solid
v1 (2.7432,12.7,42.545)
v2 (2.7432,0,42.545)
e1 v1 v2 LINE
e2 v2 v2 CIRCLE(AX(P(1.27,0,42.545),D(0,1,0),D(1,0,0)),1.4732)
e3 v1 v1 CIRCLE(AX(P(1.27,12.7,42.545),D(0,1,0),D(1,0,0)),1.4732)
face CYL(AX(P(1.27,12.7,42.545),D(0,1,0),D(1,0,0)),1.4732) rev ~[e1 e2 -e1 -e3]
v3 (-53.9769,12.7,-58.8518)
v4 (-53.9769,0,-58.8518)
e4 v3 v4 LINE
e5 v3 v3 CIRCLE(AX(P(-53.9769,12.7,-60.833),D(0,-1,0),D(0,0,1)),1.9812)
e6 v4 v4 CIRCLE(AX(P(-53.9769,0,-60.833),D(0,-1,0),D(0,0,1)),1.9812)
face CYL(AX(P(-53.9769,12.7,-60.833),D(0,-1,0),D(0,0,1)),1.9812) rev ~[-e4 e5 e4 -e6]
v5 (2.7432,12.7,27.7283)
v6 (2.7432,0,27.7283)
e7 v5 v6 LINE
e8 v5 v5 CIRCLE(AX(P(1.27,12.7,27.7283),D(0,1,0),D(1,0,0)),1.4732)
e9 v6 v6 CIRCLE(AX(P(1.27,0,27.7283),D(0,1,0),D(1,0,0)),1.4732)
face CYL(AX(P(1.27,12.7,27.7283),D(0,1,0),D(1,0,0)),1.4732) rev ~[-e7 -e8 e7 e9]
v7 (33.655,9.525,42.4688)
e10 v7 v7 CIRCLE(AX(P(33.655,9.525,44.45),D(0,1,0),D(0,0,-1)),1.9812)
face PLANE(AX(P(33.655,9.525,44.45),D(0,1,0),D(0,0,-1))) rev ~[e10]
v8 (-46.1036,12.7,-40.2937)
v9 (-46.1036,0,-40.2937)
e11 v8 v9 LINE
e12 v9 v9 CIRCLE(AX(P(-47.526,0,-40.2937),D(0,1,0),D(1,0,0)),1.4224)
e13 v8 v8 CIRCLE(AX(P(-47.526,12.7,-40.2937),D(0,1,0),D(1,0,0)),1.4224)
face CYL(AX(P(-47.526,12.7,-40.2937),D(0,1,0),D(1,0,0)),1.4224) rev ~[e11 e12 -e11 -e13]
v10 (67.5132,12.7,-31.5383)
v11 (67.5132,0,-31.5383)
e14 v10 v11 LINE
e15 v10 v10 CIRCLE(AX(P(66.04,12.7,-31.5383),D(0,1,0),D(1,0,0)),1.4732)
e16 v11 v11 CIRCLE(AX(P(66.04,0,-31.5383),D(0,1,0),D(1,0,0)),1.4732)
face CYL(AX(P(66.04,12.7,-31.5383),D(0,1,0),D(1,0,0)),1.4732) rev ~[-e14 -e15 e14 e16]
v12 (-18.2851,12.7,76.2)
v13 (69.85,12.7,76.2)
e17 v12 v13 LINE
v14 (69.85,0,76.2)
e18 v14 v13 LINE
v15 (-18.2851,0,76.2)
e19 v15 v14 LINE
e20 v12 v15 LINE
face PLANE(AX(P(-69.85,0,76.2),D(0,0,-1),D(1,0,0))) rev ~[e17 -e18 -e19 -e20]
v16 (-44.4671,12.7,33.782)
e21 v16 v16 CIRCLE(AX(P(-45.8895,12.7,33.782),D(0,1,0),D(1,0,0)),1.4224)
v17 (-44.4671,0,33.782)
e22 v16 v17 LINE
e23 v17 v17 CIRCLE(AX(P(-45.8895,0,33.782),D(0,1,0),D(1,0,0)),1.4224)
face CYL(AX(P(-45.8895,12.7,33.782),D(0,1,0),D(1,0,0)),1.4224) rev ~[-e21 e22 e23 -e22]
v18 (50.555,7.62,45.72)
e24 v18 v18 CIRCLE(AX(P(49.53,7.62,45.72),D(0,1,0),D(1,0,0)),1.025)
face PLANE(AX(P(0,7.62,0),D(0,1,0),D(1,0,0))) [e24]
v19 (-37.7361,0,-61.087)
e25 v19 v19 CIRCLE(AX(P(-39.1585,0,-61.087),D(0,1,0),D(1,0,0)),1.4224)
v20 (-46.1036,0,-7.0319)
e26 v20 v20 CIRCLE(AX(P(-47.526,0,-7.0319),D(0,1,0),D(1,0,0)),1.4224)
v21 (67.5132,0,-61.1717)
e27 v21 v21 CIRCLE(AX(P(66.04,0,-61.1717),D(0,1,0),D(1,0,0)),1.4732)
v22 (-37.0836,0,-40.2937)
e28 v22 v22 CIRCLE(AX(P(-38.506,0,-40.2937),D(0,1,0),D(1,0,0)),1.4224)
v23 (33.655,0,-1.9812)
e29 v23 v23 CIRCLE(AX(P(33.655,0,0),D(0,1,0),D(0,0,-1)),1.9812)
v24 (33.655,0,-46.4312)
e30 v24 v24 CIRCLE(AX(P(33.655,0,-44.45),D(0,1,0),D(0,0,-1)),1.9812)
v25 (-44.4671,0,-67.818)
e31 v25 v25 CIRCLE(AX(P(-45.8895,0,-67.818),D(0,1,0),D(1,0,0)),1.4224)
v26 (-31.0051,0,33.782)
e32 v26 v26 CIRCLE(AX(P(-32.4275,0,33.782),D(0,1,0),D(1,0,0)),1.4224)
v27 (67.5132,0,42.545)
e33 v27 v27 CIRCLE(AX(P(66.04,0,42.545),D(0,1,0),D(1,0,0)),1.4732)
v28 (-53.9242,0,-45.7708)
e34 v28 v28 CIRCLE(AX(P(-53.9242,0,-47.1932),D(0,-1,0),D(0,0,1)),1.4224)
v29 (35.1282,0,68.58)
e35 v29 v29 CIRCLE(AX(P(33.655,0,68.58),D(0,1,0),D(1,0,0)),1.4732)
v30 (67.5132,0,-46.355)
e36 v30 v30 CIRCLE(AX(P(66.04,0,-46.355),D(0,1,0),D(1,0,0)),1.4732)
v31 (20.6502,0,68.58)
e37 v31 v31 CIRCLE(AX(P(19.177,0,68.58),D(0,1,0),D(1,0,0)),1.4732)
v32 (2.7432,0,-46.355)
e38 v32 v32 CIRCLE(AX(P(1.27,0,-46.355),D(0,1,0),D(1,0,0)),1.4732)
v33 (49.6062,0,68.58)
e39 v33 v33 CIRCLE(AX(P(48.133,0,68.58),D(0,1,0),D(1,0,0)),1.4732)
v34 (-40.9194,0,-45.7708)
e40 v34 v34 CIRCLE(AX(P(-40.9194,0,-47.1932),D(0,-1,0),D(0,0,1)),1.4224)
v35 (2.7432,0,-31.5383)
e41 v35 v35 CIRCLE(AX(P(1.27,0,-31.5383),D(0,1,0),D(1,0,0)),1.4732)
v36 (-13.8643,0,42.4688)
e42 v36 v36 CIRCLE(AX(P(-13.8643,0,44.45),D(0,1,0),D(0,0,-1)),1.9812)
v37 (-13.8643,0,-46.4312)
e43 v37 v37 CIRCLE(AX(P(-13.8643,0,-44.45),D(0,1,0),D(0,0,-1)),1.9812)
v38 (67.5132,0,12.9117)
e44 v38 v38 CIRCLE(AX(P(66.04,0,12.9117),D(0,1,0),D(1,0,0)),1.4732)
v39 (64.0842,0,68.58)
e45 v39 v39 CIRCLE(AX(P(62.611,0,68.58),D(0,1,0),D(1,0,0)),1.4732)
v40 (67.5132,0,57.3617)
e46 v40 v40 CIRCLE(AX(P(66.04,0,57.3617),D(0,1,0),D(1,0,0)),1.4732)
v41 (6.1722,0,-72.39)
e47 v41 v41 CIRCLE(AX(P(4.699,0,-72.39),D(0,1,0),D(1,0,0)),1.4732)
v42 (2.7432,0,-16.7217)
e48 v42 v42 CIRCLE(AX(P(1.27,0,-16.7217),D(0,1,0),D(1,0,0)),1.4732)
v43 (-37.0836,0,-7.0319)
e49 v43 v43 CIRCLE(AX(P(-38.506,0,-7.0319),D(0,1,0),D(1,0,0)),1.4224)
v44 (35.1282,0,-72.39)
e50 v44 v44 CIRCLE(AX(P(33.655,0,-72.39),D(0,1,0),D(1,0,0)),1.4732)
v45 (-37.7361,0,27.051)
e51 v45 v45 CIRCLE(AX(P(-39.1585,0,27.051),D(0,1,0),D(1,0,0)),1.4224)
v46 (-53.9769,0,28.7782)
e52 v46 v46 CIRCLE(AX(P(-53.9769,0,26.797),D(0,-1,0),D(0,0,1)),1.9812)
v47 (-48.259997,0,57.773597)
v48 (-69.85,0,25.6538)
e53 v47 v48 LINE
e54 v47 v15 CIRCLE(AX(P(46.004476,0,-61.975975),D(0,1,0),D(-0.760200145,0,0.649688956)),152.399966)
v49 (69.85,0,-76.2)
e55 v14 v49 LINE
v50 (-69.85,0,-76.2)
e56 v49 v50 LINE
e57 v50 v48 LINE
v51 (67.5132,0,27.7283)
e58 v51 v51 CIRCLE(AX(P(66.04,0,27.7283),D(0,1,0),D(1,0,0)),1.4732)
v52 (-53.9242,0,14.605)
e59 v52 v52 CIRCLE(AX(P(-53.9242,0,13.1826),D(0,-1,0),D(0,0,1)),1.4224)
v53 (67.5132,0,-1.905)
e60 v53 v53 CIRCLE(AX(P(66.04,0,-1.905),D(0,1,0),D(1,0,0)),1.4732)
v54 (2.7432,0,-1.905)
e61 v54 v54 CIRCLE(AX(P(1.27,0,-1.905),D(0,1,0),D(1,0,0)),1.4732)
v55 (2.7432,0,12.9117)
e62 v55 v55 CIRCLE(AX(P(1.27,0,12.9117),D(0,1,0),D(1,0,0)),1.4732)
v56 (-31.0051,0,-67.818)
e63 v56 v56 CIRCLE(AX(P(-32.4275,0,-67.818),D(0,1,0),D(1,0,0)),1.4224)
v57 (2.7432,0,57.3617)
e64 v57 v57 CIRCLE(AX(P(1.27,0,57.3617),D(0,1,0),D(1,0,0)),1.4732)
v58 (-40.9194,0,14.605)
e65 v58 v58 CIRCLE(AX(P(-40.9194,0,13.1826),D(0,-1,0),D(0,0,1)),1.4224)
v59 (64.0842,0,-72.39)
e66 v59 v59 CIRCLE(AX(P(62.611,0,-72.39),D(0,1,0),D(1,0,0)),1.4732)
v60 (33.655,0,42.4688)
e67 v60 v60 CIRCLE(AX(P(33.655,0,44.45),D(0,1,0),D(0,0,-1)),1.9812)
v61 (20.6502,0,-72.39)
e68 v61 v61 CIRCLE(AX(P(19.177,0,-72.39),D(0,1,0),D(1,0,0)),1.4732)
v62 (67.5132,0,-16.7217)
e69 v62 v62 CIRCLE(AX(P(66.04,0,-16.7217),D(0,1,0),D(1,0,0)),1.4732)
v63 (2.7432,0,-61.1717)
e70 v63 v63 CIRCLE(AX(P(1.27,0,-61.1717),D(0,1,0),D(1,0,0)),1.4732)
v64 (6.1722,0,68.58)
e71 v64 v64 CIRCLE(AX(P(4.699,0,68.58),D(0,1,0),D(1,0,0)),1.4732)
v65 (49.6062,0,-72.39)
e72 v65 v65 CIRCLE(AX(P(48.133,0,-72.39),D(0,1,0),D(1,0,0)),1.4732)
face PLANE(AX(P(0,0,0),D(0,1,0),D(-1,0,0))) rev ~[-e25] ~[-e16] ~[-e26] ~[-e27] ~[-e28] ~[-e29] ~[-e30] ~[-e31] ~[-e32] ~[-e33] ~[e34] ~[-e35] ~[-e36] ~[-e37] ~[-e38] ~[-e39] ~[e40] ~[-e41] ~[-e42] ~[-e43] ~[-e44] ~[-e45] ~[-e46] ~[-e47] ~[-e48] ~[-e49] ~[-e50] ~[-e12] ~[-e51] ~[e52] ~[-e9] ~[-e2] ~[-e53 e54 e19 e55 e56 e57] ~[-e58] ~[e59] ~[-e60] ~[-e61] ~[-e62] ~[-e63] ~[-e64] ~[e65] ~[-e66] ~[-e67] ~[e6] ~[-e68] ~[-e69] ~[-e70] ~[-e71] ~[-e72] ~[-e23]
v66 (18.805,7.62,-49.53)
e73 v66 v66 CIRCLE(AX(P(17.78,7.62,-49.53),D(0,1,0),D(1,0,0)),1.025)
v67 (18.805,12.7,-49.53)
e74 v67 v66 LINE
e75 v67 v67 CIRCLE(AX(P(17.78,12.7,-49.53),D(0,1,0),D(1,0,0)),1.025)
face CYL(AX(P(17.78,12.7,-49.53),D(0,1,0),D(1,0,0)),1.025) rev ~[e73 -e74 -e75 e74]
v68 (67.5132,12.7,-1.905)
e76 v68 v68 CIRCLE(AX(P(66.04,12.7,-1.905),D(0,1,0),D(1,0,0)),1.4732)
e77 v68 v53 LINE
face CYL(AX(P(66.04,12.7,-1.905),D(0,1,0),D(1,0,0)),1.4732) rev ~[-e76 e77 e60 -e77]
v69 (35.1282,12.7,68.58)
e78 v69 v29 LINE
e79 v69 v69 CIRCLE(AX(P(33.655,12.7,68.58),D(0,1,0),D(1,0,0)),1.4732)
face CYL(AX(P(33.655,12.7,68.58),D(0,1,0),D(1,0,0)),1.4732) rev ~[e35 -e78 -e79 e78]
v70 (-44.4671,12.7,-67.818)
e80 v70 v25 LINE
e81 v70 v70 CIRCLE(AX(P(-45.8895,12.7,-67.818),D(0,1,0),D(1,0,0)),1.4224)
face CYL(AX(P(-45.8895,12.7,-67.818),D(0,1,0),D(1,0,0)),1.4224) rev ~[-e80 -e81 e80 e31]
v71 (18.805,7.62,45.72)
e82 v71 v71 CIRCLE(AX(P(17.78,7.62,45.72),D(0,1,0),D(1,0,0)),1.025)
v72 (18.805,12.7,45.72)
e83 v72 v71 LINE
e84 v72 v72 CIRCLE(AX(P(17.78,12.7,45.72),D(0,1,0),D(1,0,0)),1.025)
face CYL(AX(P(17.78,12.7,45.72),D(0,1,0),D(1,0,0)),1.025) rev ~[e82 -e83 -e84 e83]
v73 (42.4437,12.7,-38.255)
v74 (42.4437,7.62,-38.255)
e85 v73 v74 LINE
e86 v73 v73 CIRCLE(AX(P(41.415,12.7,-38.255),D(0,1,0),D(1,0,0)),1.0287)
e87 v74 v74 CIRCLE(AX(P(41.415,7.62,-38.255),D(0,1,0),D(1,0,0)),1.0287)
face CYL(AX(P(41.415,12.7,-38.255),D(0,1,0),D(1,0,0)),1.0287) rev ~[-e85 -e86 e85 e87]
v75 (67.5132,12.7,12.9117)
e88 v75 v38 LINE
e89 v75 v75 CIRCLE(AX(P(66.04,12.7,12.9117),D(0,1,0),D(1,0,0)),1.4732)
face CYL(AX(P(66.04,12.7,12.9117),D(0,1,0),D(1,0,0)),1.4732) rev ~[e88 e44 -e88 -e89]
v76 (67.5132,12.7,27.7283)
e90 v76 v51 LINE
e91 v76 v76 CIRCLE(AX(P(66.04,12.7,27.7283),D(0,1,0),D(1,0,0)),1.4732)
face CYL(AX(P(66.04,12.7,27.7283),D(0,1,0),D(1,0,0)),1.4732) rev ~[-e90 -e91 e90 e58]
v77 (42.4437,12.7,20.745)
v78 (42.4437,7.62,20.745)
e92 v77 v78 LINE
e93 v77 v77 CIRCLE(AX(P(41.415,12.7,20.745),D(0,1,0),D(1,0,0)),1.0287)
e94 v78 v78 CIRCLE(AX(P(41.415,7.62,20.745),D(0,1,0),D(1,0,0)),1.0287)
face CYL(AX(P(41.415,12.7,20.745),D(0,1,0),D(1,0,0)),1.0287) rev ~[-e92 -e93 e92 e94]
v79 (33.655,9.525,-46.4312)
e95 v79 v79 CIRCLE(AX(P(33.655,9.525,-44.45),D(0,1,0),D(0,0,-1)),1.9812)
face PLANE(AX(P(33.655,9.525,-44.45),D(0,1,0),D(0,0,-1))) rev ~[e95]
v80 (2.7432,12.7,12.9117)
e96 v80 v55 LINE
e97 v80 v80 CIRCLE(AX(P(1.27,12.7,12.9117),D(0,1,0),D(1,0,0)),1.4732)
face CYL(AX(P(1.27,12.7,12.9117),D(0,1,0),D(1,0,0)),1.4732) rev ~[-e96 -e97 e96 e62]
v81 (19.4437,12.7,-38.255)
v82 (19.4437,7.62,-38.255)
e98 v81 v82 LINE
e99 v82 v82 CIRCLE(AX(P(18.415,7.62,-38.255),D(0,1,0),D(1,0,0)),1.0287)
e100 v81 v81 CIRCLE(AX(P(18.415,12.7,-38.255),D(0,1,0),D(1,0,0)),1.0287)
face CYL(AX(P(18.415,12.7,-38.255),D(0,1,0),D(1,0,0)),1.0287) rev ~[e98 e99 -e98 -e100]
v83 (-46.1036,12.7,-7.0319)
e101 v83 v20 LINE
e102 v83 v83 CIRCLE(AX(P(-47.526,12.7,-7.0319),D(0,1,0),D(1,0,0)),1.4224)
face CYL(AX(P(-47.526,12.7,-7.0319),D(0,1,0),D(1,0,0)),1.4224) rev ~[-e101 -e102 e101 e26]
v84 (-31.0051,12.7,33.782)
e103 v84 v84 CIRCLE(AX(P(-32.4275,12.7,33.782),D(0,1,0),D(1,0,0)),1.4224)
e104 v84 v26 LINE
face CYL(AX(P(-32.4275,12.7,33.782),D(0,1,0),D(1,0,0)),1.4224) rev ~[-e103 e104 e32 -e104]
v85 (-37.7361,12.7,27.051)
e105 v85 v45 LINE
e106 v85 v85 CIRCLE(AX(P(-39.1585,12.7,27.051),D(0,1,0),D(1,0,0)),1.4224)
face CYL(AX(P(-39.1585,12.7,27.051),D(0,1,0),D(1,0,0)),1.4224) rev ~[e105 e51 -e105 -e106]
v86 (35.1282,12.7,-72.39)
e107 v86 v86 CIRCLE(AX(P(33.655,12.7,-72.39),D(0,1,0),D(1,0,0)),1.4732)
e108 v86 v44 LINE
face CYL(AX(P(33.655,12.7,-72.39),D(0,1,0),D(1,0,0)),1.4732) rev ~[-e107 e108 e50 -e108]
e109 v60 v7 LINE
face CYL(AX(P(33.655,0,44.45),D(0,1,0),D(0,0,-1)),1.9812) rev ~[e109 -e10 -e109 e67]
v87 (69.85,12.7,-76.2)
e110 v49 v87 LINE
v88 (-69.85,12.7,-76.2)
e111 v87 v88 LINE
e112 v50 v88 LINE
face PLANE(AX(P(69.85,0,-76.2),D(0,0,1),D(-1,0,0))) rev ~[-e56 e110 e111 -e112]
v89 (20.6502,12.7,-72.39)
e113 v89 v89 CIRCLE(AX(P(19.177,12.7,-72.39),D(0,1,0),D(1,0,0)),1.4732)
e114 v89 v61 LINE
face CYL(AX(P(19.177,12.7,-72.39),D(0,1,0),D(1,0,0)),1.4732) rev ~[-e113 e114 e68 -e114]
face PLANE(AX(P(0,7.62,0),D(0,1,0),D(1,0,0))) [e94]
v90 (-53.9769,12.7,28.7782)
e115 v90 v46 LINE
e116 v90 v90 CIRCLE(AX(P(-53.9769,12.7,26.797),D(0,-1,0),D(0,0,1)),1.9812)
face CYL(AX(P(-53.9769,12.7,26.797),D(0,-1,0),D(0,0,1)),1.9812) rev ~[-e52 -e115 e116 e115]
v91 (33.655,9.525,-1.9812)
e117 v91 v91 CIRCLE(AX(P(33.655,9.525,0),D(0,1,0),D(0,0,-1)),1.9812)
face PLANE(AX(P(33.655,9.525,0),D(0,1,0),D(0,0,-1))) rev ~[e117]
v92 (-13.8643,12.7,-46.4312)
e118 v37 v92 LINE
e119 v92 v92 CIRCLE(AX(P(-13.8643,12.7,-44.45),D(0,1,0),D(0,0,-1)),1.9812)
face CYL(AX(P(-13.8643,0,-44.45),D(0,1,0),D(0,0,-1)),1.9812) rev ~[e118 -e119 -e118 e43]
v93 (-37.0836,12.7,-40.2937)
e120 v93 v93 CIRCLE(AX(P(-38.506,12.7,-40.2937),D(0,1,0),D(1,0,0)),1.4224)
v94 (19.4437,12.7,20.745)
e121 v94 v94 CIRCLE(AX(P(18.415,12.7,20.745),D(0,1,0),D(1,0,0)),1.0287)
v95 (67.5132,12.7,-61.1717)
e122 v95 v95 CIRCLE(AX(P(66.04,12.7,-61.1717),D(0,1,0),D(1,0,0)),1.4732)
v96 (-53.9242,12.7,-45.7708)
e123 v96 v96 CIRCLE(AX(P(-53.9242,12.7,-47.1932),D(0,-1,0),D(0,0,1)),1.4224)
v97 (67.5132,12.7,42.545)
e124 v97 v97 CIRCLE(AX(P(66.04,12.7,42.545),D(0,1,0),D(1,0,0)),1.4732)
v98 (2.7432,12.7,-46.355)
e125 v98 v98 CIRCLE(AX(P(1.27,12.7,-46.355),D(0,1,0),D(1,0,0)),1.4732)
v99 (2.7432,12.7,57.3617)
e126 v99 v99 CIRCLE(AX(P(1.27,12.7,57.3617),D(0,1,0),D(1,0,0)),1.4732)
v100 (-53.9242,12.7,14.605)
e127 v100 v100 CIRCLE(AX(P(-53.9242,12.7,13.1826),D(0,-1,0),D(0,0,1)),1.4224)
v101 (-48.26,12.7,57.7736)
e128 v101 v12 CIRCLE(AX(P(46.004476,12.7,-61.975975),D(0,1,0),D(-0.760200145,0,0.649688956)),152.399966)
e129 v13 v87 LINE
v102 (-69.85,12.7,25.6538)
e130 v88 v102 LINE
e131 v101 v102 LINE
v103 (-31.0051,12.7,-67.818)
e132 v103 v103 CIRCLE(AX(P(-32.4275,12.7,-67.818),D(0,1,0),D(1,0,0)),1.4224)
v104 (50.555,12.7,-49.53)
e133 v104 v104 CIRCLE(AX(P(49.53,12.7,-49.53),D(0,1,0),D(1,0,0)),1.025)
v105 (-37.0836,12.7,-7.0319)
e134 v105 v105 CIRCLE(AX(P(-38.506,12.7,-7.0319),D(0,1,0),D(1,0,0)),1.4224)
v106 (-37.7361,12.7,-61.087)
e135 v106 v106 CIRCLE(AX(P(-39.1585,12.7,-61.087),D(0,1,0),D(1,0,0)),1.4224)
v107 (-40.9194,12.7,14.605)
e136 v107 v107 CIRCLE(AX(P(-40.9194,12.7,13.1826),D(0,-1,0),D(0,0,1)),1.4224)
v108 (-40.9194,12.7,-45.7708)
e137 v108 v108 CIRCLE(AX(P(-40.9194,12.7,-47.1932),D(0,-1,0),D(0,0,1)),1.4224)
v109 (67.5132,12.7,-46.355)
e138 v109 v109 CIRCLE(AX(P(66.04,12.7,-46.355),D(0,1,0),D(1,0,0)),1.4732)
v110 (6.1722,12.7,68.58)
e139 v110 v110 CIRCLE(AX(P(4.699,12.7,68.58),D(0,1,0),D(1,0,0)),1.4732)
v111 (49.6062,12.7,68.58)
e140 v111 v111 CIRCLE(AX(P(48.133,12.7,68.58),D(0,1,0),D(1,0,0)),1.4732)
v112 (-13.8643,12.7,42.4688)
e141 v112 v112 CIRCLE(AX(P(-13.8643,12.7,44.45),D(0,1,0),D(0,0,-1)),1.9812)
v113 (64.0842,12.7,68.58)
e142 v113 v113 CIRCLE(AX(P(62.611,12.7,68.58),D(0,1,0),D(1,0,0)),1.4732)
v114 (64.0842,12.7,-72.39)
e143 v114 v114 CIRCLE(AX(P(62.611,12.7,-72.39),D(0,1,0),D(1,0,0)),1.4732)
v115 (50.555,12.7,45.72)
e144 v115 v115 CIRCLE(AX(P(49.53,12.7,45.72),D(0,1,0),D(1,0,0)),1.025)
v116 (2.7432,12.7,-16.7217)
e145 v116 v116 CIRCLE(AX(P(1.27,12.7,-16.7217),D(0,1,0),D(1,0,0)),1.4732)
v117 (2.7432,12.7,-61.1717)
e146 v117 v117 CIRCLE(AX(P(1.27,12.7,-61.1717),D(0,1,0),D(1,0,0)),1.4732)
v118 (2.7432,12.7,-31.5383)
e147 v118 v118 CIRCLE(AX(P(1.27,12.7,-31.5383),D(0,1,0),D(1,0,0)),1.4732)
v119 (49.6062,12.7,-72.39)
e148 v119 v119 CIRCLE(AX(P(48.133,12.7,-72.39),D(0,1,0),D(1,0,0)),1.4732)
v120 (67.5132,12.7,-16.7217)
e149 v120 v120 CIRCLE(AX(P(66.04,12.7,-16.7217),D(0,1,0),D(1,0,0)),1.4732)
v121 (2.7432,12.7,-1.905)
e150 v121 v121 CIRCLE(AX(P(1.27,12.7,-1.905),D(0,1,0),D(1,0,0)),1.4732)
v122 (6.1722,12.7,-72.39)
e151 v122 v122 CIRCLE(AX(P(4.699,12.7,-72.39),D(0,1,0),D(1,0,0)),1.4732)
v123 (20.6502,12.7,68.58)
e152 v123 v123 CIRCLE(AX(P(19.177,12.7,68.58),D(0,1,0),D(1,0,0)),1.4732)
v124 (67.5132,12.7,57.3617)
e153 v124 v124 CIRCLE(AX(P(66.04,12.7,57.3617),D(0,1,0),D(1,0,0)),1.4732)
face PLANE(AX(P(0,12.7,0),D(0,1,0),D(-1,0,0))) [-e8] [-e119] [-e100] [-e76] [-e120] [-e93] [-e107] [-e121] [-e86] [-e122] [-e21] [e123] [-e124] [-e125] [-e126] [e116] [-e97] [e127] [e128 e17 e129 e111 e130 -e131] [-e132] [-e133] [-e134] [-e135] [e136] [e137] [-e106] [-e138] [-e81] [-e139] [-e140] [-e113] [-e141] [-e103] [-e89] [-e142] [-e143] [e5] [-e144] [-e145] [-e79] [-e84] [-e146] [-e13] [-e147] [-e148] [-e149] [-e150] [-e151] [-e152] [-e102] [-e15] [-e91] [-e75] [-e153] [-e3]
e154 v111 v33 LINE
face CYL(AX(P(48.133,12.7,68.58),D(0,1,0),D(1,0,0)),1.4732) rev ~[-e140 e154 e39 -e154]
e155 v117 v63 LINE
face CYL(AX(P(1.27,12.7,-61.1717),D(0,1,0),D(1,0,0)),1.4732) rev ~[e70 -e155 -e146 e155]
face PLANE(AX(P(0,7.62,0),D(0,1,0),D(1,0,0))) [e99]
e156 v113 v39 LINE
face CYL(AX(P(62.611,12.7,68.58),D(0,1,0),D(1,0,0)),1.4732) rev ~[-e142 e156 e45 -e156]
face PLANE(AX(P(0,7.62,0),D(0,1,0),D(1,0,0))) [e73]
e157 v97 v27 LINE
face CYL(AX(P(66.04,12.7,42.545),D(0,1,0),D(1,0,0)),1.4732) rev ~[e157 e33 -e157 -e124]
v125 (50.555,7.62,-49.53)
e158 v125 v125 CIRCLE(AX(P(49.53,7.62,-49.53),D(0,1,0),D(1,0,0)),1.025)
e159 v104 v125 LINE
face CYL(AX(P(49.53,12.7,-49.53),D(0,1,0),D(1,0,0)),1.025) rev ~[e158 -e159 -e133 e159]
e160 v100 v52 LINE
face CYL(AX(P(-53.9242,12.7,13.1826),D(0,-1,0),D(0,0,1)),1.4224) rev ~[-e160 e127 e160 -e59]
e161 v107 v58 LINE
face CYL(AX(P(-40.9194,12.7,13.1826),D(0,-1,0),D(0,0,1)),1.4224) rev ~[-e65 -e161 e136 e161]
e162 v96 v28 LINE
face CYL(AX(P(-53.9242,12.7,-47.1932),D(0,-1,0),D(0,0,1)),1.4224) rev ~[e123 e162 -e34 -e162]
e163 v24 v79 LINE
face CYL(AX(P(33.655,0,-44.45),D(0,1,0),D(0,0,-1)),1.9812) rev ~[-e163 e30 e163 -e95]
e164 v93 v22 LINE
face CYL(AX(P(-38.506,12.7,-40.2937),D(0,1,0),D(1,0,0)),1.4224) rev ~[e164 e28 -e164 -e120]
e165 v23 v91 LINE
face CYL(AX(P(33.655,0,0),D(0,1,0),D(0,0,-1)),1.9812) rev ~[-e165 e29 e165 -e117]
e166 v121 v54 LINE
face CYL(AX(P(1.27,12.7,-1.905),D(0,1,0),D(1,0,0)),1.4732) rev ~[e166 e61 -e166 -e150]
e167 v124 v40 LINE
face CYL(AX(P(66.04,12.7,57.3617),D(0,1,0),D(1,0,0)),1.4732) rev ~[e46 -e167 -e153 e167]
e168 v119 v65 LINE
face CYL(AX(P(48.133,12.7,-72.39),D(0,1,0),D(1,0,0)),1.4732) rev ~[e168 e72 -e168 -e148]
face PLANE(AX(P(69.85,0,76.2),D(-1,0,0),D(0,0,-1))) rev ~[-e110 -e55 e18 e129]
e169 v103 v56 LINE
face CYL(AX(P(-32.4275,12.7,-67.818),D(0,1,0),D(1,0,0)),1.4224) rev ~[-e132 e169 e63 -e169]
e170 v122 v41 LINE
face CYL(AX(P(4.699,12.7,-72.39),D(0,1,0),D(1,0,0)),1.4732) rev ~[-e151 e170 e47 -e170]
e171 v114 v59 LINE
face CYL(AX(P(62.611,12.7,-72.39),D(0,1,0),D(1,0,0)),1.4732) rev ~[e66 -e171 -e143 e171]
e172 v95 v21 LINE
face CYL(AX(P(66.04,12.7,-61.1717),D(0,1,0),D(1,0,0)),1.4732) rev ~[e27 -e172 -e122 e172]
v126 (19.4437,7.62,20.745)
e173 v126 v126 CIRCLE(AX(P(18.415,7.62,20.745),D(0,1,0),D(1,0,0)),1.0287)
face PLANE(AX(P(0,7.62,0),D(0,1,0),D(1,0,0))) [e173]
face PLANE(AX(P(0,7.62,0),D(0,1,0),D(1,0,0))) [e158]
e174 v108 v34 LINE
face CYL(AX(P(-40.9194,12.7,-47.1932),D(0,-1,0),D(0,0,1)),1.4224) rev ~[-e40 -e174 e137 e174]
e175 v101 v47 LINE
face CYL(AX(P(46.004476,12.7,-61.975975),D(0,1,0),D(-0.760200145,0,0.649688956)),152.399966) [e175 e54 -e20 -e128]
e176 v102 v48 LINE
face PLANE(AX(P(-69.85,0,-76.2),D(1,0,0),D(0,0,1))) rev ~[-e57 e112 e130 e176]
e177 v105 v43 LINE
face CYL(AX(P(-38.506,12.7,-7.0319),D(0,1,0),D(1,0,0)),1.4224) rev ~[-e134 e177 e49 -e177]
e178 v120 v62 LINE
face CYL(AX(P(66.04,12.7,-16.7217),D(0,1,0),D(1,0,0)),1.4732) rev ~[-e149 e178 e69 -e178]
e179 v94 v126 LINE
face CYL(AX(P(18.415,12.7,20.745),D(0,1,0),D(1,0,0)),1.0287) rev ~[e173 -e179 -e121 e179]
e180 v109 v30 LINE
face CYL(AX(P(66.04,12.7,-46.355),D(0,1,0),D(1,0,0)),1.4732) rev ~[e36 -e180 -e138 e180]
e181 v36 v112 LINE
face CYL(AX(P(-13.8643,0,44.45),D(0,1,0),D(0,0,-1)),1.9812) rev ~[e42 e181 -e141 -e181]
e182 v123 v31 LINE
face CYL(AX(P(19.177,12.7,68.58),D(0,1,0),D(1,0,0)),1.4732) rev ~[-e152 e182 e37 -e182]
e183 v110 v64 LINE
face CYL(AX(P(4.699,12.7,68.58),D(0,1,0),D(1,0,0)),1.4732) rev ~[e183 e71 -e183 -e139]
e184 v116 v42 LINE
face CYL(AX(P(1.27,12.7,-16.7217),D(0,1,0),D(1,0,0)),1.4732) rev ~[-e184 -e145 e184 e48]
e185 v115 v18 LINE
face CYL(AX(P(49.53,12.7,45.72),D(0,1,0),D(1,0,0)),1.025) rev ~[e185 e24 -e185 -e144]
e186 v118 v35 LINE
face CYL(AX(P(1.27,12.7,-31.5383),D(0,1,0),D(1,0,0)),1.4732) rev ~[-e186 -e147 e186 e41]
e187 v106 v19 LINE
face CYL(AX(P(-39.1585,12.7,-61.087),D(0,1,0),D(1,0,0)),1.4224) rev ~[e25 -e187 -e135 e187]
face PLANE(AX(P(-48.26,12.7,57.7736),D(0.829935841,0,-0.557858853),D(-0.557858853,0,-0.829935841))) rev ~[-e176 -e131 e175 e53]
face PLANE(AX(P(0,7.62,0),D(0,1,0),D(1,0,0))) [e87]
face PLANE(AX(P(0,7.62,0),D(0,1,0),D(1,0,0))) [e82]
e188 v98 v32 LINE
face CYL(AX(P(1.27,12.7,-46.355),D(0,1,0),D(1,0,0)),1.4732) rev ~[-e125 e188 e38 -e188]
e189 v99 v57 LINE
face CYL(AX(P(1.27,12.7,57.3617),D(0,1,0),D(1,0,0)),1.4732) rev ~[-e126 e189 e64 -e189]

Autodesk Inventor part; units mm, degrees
ref_plane "YZ Plane" through (0, 0, 0) normal (1, 0, 0) x (0, 1, 0)
ref_plane "XZ Plane" through (0, 0, 0) normal (0, 1, 0) x (-1, 0, 0)
ref_plane "XY Plane" through (0, 0, 0) normal (0, 0, 1) x (1, 0, 0)
sketch "Sketch1" plane through (0, 0, 0) normal (0, 1, 0) x (-1, 0, 0)
  line L0 (69.85, 76.2) -> (-69.85, 76.2)
  line L1 (-69.85, 76.2) -> (-69.85, -76.2)
  line L2 (-69.85, -76.2) -> (69.85, -76.2)
  line L3 (69.85, -76.2) -> (69.85, 76.2)
  point P0 (0, 0)
  dimension "d0" = 152.4
  dimension "d1" = 139.7
  dimension "d2" = 69.85
  dimension "d3" = 76.2
extrude "Extrusion1" add sketch "Sketch1" along normal blind 12.7
fillet "Fillet1" [suppressed]
sketch "Sketch7" plane through (0, 12.7, 0) normal (0, 1, 0) x (1, 0, 0)
  arc A0 (-69.85, -37.0366) -> (-18.2851, -76.2) centre (46.0045, 61.976) ccw
  line L0 (69.85, 76.2) -> (-69.85, 76.2) projected
  line L1 (69.85, -76.2) -> (69.85, 76.2) projected
  line L2 (-69.85, 76.2) -> (-69.85, -76.2) projected
  line L3 (-69.85, -76.2) -> (69.85, -76.2) projected
  line L4 (-69.85, 76.2) -> (-69.85, -76.2) projected
  arc A1 (-18.2851, -76.2) -> (-69.85, -37.0366) centre (46.0045, 61.976) ccw
  point P0 (0, 0)
  point P1 (76.2, -60.325)
  point P2 (73.025, -60.325)
  point P3 (73.025, 63.5)
  point P4 (73.025, 60.325)
  point P5 (-73.025, 63.5)
  point P6 (76.2, 60.325)
  point P7 (73.025, -63.5)
  point P8 (-76.2, 60.325)
  point P9 (-80.9955, -22.2663)
  dimension "d46" = 304.8
  dimension "d47" = 14.224
  dimension "d48" = 23.8455
sketch "Sketch8" plane through (0, 12.7, 0) normal (0, 1, 0) x (1, 0, 0)
  circle A0 centre (-47.526, 7.0319) radius 1.4224 projected
  circle A1 centre (-47.526, 7.0319) radius 1.4224 projected
  circle A2 centre (-38.506, 7.0319) radius 1.4224 projected
  line L0 (-33.996, 3.9778) -> (-52.036, 3.9778) projected
  line L1 (-33.996, 10.086) -> (-33.996, 3.9778) projected
  line L2 (-33.996, 10.086) -> (-52.036, 10.086) projected
  line L3 (-52.036, 3.9778) -> (-52.036, 10.086) projected
  circle A3 centre (-47.526, 40.2937) radius 1.4224 projected
  circle A4 centre (-38.506, 40.2937) radius 1.4224 projected
  line L4 (-33.996, 37.2396) -> (-52.036, 37.2396) projected
  line L5 (-33.996, 43.3478) -> (-33.996, 37.2396) projected
  line L6 (-33.996, 43.3478) -> (-52.036, 43.3478) projected
  line L7 (-52.036, 37.2396) -> (-52.036, 43.3478) projected
  circle A5 centre (2.54, -39.6875) radius 3.175 construction
  circle A6 centre (2.54, 12.7127) radius 3.175 construction
  circle A7 centre (2.54, 65.1129) radius 3.175 construction
  circle A8 centre (68.58, 65.1129) radius 3.175 construction
  circle A9 centre (68.58, 12.7127) radius 3.175 construction
  circle A10 centre (68.58, -39.6875) radius 3.175 construction
  circle A11 centre (-32.4275, -33.782) radius 1.4224 projected
  circle A12 centre (-39.1585, -27.051) radius 1.4224 projected
  circle A13 centre (-45.8895, -33.782) radius 1.4224 projected
  circle A14 centre (-45.8895, 67.818) radius 1.4224 projected
  circle A15 centre (-39.1585, 61.087) radius 1.4224 projected
  circle A16 centre (-32.4275, 67.818) radius 1.4224 projected
extrude "Extrusion9" cut sketch "Sketch8" against normal through all contours A0 | A2 | A3 | A4 | A11 | A12 | A13 | A14 | A15 | A16
extrude "Extrusion11" cut sketch "Sketch7" against normal through all contours A0 L3 L2
sketch "Sketch10" plane through (0, 12.7, 0) normal (0, 1, 0) x (1, 0, 0)
  circle A0 centre (62.611, 72.39) radius 1.4732 projected
  arc A1 (-69.85, -37.0366) -> (-18.2851, -76.2) centre (46.0045, 61.976) ccw projected
  line L0 (-18.2851, -76.2) -> (69.85, -76.2) projected
  line L1 (69.85, -76.2) -> (69.85, 76.2) projected
  line L2 (69.85, 76.2) -> (-69.85, 76.2) projected
  line L3 (-69.85, 76.2) -> (-69.85, -37.0366) projected
  circle A2 centre (-47.526, 40.2937) radius 1.4224 projected
  circle A3 centre (-47.526, 7.0319) radius 1.4224 projected
  circle A4 centre (-38.506, 7.0319) radius 1.4224 projected
  circle A5 centre (-38.506, 40.2937) radius 1.4224 projected
  circle A6 centre (33.655, 72.39) radius 1.4732 projected
  circle A7 centre (48.133, 72.39) radius 1.4732 projected
  circle A8 centre (19.177, 72.39) radius 1.4732 projected
  circle A9 centre (4.699, 72.39) radius 1.4732 projected
  circle A10 centre (62.611, -68.58) radius 1.4732 projected
  circle A11 centre (48.133, -68.58) radius 1.4732 projected
  circle A12 centre (33.655, -68.58) radius 1.4732 projected
  circle A13 centre (19.177, -68.58) radius 1.4732 projected
  circle A14 centre (4.699, -68.58) radius 1.4732 projected
  point P0 (0, 0)
extrude "Extrusion13" cut sketch "Sketch10" against normal through all contours A0 | A6 | A7 | A8 | A9 | A10 | A11 | A12 | A13 | A14
sketch "Sketch11" plane through (0, 12.7, 0) normal (0, 1, 0) x (1, 0, 0)
  circle A0 centre (19.177, 72.39) radius 1.4732 projected
  circle A1 centre (48.133, 72.39) radius 1.4732 projected
  circle A2 centre (62.611, -68.58) radius 1.4732 projected
  circle A3 centre (33.655, -68.58) radius 1.4732 projected
  circle A4 centre (4.699, -68.58) radius 1.4732 projected
  circle A5 centre (1.27, -42.545) radius 1.4732 projected
  circle A6 centre (1.27, -12.9117) radius 1.4732 projected
  circle A7 centre (1.27, 16.7217) radius 1.4732 projected
  circle A8 centre (1.27, 46.355) radius 1.4732 projected
  circle A9 centre (66.04, 61.1717) radius 1.4732 projected
  circle A10 centre (66.04, 31.5383) radius 1.4732 projected
  circle A11 centre (66.04, 1.905) radius 1.4732 projected
  circle A12 centre (66.04, -27.7283) radius 1.4732 projected
  circle A13 centre (66.04, -57.3617) radius 1.4732 projected
  circle A14 centre (66.04, -42.545) radius 1.4732 projected
  circle A15 centre (66.04, -12.9117) radius 1.4732 projected
  circle A16 centre (66.04, 16.7217) radius 1.4732 projected
  circle A17 centre (66.04, 46.355) radius 1.4732 projected
  circle A18 centre (1.27, 61.1717) radius 1.4732 projected
  circle A19 centre (1.27, 31.5383) radius 1.4732 projected
  circle A20 centre (1.27, 1.905) radius 1.4732 projected
  circle A21 centre (1.27, -27.7283) radius 1.4732 projected
  circle A22 centre (1.27, -57.3617) radius 1.4732 projected
  circle A23 centre (19.177, -68.58) radius 1.4732 projected
  circle A24 centre (48.133, -68.58) radius 1.4732 projected
  circle A25 centre (62.611, 72.39) radius 1.4732 projected
  circle A26 centre (33.655, 72.39) radius 1.4732 projected
  circle A27 centre (4.699, 72.39) radius 1.4732 projected
  line L0 (0.635, -72.39) -> (66.675, -72.39) projected
  line L1 (69.85, -69.215) -> (69.85, 73.025) projected
  line L2 (66.675, 76.2) -> (0.635, 76.2) projected
  line L3 (-2.54, 73.025) -> (-2.54, -69.215) projected
  arc A28 (59.055, 62.23) -> (55.88, 65.405) centre (55.88, 62.23) ccw projected
  line L4 (59.055, -58.42) -> (59.055, 62.23) projected
  arc A29 (55.88, -61.595) -> (59.055, -58.42) centre (55.88, -58.42) ccw projected
  line L5 (11.43, -61.595) -> (55.88, -61.595) projected
  arc A30 (8.255, -58.42) -> (11.43, -61.595) centre (11.43, -58.42) ccw projected
  line L6 (8.255, 62.23) -> (8.255, -58.42) projected
  arc A31 (11.43, 65.405) -> (8.255, 62.23) centre (11.43, 62.23) ccw projected
  line L7 (55.88, 65.405) -> (11.43, 65.405) projected
  arc A32 (69.85, 73.025) -> (66.675, 76.2) centre (66.675, 73.025) ccw projected
  arc A33 (0.635, 76.2) -> (-2.54, 73.025) centre (0.635, 73.025) ccw projected
  arc A34 (-2.54, -69.215) -> (0.635, -72.39) centre (0.635, -69.215) ccw projected
  arc A35 (66.675, -72.39) -> (69.85, -69.215) centre (66.675, -69.215) ccw projected
  point P0 (0, 0)
  point P1 (52.705, -61.595)
extrude "Extrusion14" cut sketch "Sketch11" against normal through all contours A5 | A6 | A7 | A8 | A9 | A10 | A11 | A12 | A13 | A14 | A15 | A16 | A17 | A18 | A19 | A20 | A21 | A22 | A25
sketch "Sketch14" plane through (0, 0, 0) normal (0, -1, 0) x (1, 0, 0)
  line L0 (69.85, -76.2) -> (-69.85, -76.2) projected
  line L1 (-18.2851, 76.2) -> (69.85, 76.2) projected
  circle A0 centre (4.699, -72.39) radius 1.4732 projected
  circle A1 centre (-32.4275, -67.818) radius 1.4224 projected
  point P0 (0, 0)
  point P1 (-13.8643, 44.45)
  point P2 (-13.8643, -44.45)
  dimension "d79" = 44.45
  dimension "d80" = 152.4
  dimension "d81" = 44.45
  dimension "d82" = 37.1265
  dimension "d83" = 18.5633
  dimension "d84" = 18.5633
hole "Hole2" at (-13.8643, 0, 44.45) at (-13.8643, 0, -44.45) direction (0, 1, 0) diameter 3.9624 end through all thread size "10-32 UNF" class "2B" standard "ANSI Unified Screw Threads"
sketch "Sketch15" plane through (0, 0, 0) normal (0, -1, 0) x (1, 0, 0)
  circle A0 centre (-13.8643, 44.45) radius 1.9812 projected
  circle A1 centre (-13.8643, -44.45) radius 1.9812 projected
  circle A2 centre (66.04, -31.5383) radius 1.4732 projected
  circle A3 centre (1.27, -31.5383) radius 1.4732 projected
  circle A4 centre (1.27, 42.545) radius 1.4732 projected
  point P0 (0, 0)
  point P1 (33.655, -44.45)
  point P2 (33.655, 44.45)
  point P3 (33.655, 0)
  dimension "d92" = 44.45
  dimension "d93" = 44.45
  dimension "d94" = 44.45
  dimension "d95" = 44.45
  dimension "d96" = 64.77
  dimension "d97" = 32.385
  dimension "d98" = 32.385
  dimension "d222" = 32.385
  dimension "d223" = 44.45
hole "Hole3" at (33.655, 0, -44.45) at (33.655, 0, 44.45) at (33.655, 0, 0) direction (0, 1, 0) diameter 3.9624 depth 9.525 thread size "10-32 UNF" class "2B" standard "ANSI Unified Screw Threads"
thread "Thread3" size "5-40 UNC" class "2B" standard "ANSI Unified Screw Threads" full length
thread "Thread4" size "5-40 UNC" class "2B" standard "ANSI Unified Screw Threads" full length
thread "Thread5" size "5-40 UNC" class "2B" standard "ANSI Unified Screw Threads" full length
thread "Thread6" size "5-40 UNC" class "2B" standard "ANSI Unified Screw Threads" full length
thread "Thread7" size "5-40 UNC" class "2B" standard "ANSI Unified Screw Threads" full length
thread "Thread8" size "5-40 UNC" class "2B" standard "ANSI Unified Screw Threads" full length
thread "Thread9" size "5-40 UNC" class "2B" standard "ANSI Unified Screw Threads" full length
thread "Thread10" size "5-40 UNC" class "2B" standard "ANSI Unified Screw Threads" full length
thread "Thread11" size "5-40 UNC" class "2B" standard "ANSI Unified Screw Threads" full length
thread "Thread12" size "5-40 UNC" class "2B" standard "ANSI Unified Screw Threads" full length
thread "Thread13" size "5-40 UNC" class "2B" standard "ANSI Unified Screw Threads" full length
thread "Thread14" size "5-40 UNC" class "2B" standard "ANSI Unified Screw Threads" full length
thread "Thread15" size "5-40 UNC" class "2B" standard "ANSI Unified Screw Threads" full length
thread "Thread16" size "5-40 UNC" class "2B" standard "ANSI Unified Screw Threads" full length
thread "Thread17" size "5-40 UNC" class "2B" standard "ANSI Unified Screw Threads" full length
thread "Thread18" size "5-40 UNC" class "2B" standard "ANSI Unified Screw Threads" full length
thread "Thread19" size "5-40 UNC" class "2B" standard "ANSI Unified Screw Threads" full length
thread "Thread20" size "5-40 UNC" class "2B" standard "ANSI Unified Screw Threads" full length
thread "Thread21" size "5-40 UNC" class "2B" standard "ANSI Unified Screw Threads" full length
thread "Thread22" size "5-40 UNC" class "2B" standard "ANSI Unified Screw Threads" full length
thread "Thread23" size "5-40 UNC" class "2B" standard "ANSI Unified Screw Threads" full length
thread "Thread24" size "5-40 UNC" class "2B" standard "ANSI Unified Screw Threads" full length
thread "Thread25" size "5-40 UNC" class "2B" standard "ANSI Unified Screw Threads" full length
thread "Thread26" size "5-40 UNC" class "2B" standard "ANSI Unified Screw Threads" full length
thread "Thread27" size "5-40 UNC" class "2B" standard "ANSI Unified Screw Threads" full length
thread "Thread28" size "5-40 UNC" class "2B" standard "ANSI Unified Screw Threads" full length
thread "Thread29" size "5-40 UNC" class "2B" standard "ANSI Unified Screw Threads" full length
thread "Thread30" size "5-40 UNC" class "2B" standard "ANSI Unified Screw Threads" full length
thread "Thread31" size "5-40 UNC" class "2B" standard "ANSI Unified Screw Threads" full length
thread "Thread32" size "4-40 UNC" class "2B" standard "ANSI Unified Screw Threads" full length
thread "Thread33" size "4-40 UNC" class "2B" standard "ANSI Unified Screw Threads" full length
thread "Thread34" size "4-40 UNC" class "2B" standard "ANSI Unified Screw Threads" full length
thread "Thread35" size "4-40 UNC" class "2B" standard "ANSI Unified Screw Threads" full length
thread "Thread36" size "4-40 UNC" class "2B" standard "ANSI Unified Screw Threads" full length
thread "Thread37" size "4-40 UNC" class "2B" standard "ANSI Unified Screw Threads" full length
thread "Thread38" size "4-40 UNC" class "2B" standard "ANSI Unified Screw Threads" full length
thread "Thread39" size "4-40 UNC" class "2B" standard "ANSI Unified Screw Threads" full length
thread "Thread40" size "4-40 UNC" class "2B" standard "ANSI Unified Screw Threads" full length
thread "Thread41" size "4-40 UNC" class "2B" standard "ANSI Unified Screw Threads" full length
sketch "Sketch17" plane through (0, 12.7, 0) normal (0, 1, 0) x (1, 0, 0)
  line L0 (-48.26, -57.7736) -> (-69.85, -25.6538)
  line L1 (-69.85, 76.2) -> (-69.85, -37.0366) projected
  line L2 (-69.85, -25.6538) -> (-69.85, -37.0366)
  arc A0 (-69.85, -37.0366) -> (-18.2851, -76.2) centre (46.0045, 61.976) ccw projected
  arc A1 (-69.85, -37.0366) -> (-48.26, -57.7736) centre (46.0045, 61.976) ccw
  point P0 (0, 0)
  dimension "d200" = 6.35
  dimension "d203" = 21.59
extrude "Extrusion16" cut sketch "Sketch17" against normal through all
thread "Thread46" size "10-32 UNF" class "2B" standard "ANSI Unified Screw Threads" full length
thread "Thread47" size "10-32 UNF" class "2B" standard "ANSI Unified Screw Threads" full length
thread "Thread48" size "10-32 UNF" class "2B" standard "ANSI Unified Screw Threads" full length
sketch "Sketch19" plane through (0, 12.7, 0) normal (0, 1, 0) x (1, 0, 0)
  circle A0 centre (49.53, 49.53) radius 1.025
  line L0 (-18.2851, -76.2) -> (69.85, -76.2) projected
  line L1 (69.85, -76.2) -> (69.85, 76.2) projected
  line L2 (69.85, 76.2) -> (-69.85, 76.2) projected
  circle A1 centre (49.53, -45.72) radius 1.025
  circle A2 centre (17.78, 49.53) radius 1.025
  circle A3 centre (17.78, -45.72) radius 1.025
  circle A4 centre (18.415, -20.745) radius 1.0287
  circle A5 centre (18.415, 38.255) radius 1.0287
  circle A6 centre (41.415, -20.745) radius 1.0287
  circle A7 centre (41.415, 38.255) radius 1.0287
  point P0 (0, 0)
  point P1 (-28.9602, -57.9611)
  point P2 (18.415, 8.255)
  dimension "d239" = 2.05
  dimension "d241" = 20.32
  dimension "d242" = 26.67
  dimension "d245" = 95.25
  dimension "d248" = 31.75
  dimension "d251" = 31.115
  dimension "d252" = 53.975
  dimension "d253" = 2.0574
  dimension "d254" = 29
  dimension "d257" = 59
  dimension "d260" = 23
sketch "Sketch18" plane through (0, 12.7, 0) normal (0, 1, 0) x (1, 0, 0)
  circle A0 centre (-47.6269, -14.097) radius 2.794 projected
  circle A1 centre (-47.6269, 48.133) radius 2.794 projected
  point P0 (0, 0)
  point P1 (-53.9769, 60.833)
  point P2 (-53.9769, -26.797)
  dimension "d211" = 12.7
  dimension "d212" = 12.7
  dimension "d213" = 6.35
  dimension "d214" = 6.35
hole "Hole4" at (-53.9769, 12.7, -60.833) at (-53.9769, 12.7, 26.797) direction (0, -1, 0) diameter 3.9624 depth 12.7 thread size "10-32 UNF" class "2B" standard "ANSI Unified Screw Threads"
sketch "Sketch21" plane through (0, 12.7, 0) normal (0, 1, 0) x (1, 0, 0)
  line L0 (69.85, 76.2) -> (-69.85, 76.2) projected
  line L1 (-69.85, 76.2) -> (-69.85, -25.6538) projected
  point P0 (0, 0)
  point P1 (-53.9242, -13.1826)
  point P2 (-40.9194, -13.1826)
  point P3 (-40.9194, 47.1932)
  point P4 (-53.9242, 47.1932)
  dimension "d224" = 29.0068
  dimension "d225" = 15.9258
  dimension "d226" = 28.9306
  dimension "d227" = 29.0068
  dimension "d228" = 15.9258
  dimension "d229" = 89.3826
  dimension "d230" = 89.3826
  dimension "d231" = 28.9306
hole "Hole5" at (-53.9242, 12.7, 13.1826) at (-40.9194, 12.7, 13.1826) at (-53.9242, 12.7, -47.1932) at (-40.9194, 12.7, -47.1932) direction (0, -1, 0) diameter 2.8448 end through all
extrude "Extrusion17" cut sketch "Sketch19" against normal blind 5.08
equation "\"d2\" = 0.5 * d1"
equation "\"d3\" = 0.5 * d0"
equation "\"d79\" = d81"
equation "\"d83\" = 0.5 * d82"
equation "\"d84\" = d83"
equation "\"d92\" = d93"
equation "\"d95\" = d94"
equation "\"d97\" = 0.5 * d96"
equation "\"d98\" = d97"
equation "\"d222\" = d98"
equation "\"d223\" = d95"
equation "\"d214\" = d213"
equation "\"d227\" = d224"
equation "\"d228\" = d225"
equation "\"d230\" = d229"
equation "\"d231\" = d226"
properties part number "Base Plate Mk 2" material "Aluminum 6061"
